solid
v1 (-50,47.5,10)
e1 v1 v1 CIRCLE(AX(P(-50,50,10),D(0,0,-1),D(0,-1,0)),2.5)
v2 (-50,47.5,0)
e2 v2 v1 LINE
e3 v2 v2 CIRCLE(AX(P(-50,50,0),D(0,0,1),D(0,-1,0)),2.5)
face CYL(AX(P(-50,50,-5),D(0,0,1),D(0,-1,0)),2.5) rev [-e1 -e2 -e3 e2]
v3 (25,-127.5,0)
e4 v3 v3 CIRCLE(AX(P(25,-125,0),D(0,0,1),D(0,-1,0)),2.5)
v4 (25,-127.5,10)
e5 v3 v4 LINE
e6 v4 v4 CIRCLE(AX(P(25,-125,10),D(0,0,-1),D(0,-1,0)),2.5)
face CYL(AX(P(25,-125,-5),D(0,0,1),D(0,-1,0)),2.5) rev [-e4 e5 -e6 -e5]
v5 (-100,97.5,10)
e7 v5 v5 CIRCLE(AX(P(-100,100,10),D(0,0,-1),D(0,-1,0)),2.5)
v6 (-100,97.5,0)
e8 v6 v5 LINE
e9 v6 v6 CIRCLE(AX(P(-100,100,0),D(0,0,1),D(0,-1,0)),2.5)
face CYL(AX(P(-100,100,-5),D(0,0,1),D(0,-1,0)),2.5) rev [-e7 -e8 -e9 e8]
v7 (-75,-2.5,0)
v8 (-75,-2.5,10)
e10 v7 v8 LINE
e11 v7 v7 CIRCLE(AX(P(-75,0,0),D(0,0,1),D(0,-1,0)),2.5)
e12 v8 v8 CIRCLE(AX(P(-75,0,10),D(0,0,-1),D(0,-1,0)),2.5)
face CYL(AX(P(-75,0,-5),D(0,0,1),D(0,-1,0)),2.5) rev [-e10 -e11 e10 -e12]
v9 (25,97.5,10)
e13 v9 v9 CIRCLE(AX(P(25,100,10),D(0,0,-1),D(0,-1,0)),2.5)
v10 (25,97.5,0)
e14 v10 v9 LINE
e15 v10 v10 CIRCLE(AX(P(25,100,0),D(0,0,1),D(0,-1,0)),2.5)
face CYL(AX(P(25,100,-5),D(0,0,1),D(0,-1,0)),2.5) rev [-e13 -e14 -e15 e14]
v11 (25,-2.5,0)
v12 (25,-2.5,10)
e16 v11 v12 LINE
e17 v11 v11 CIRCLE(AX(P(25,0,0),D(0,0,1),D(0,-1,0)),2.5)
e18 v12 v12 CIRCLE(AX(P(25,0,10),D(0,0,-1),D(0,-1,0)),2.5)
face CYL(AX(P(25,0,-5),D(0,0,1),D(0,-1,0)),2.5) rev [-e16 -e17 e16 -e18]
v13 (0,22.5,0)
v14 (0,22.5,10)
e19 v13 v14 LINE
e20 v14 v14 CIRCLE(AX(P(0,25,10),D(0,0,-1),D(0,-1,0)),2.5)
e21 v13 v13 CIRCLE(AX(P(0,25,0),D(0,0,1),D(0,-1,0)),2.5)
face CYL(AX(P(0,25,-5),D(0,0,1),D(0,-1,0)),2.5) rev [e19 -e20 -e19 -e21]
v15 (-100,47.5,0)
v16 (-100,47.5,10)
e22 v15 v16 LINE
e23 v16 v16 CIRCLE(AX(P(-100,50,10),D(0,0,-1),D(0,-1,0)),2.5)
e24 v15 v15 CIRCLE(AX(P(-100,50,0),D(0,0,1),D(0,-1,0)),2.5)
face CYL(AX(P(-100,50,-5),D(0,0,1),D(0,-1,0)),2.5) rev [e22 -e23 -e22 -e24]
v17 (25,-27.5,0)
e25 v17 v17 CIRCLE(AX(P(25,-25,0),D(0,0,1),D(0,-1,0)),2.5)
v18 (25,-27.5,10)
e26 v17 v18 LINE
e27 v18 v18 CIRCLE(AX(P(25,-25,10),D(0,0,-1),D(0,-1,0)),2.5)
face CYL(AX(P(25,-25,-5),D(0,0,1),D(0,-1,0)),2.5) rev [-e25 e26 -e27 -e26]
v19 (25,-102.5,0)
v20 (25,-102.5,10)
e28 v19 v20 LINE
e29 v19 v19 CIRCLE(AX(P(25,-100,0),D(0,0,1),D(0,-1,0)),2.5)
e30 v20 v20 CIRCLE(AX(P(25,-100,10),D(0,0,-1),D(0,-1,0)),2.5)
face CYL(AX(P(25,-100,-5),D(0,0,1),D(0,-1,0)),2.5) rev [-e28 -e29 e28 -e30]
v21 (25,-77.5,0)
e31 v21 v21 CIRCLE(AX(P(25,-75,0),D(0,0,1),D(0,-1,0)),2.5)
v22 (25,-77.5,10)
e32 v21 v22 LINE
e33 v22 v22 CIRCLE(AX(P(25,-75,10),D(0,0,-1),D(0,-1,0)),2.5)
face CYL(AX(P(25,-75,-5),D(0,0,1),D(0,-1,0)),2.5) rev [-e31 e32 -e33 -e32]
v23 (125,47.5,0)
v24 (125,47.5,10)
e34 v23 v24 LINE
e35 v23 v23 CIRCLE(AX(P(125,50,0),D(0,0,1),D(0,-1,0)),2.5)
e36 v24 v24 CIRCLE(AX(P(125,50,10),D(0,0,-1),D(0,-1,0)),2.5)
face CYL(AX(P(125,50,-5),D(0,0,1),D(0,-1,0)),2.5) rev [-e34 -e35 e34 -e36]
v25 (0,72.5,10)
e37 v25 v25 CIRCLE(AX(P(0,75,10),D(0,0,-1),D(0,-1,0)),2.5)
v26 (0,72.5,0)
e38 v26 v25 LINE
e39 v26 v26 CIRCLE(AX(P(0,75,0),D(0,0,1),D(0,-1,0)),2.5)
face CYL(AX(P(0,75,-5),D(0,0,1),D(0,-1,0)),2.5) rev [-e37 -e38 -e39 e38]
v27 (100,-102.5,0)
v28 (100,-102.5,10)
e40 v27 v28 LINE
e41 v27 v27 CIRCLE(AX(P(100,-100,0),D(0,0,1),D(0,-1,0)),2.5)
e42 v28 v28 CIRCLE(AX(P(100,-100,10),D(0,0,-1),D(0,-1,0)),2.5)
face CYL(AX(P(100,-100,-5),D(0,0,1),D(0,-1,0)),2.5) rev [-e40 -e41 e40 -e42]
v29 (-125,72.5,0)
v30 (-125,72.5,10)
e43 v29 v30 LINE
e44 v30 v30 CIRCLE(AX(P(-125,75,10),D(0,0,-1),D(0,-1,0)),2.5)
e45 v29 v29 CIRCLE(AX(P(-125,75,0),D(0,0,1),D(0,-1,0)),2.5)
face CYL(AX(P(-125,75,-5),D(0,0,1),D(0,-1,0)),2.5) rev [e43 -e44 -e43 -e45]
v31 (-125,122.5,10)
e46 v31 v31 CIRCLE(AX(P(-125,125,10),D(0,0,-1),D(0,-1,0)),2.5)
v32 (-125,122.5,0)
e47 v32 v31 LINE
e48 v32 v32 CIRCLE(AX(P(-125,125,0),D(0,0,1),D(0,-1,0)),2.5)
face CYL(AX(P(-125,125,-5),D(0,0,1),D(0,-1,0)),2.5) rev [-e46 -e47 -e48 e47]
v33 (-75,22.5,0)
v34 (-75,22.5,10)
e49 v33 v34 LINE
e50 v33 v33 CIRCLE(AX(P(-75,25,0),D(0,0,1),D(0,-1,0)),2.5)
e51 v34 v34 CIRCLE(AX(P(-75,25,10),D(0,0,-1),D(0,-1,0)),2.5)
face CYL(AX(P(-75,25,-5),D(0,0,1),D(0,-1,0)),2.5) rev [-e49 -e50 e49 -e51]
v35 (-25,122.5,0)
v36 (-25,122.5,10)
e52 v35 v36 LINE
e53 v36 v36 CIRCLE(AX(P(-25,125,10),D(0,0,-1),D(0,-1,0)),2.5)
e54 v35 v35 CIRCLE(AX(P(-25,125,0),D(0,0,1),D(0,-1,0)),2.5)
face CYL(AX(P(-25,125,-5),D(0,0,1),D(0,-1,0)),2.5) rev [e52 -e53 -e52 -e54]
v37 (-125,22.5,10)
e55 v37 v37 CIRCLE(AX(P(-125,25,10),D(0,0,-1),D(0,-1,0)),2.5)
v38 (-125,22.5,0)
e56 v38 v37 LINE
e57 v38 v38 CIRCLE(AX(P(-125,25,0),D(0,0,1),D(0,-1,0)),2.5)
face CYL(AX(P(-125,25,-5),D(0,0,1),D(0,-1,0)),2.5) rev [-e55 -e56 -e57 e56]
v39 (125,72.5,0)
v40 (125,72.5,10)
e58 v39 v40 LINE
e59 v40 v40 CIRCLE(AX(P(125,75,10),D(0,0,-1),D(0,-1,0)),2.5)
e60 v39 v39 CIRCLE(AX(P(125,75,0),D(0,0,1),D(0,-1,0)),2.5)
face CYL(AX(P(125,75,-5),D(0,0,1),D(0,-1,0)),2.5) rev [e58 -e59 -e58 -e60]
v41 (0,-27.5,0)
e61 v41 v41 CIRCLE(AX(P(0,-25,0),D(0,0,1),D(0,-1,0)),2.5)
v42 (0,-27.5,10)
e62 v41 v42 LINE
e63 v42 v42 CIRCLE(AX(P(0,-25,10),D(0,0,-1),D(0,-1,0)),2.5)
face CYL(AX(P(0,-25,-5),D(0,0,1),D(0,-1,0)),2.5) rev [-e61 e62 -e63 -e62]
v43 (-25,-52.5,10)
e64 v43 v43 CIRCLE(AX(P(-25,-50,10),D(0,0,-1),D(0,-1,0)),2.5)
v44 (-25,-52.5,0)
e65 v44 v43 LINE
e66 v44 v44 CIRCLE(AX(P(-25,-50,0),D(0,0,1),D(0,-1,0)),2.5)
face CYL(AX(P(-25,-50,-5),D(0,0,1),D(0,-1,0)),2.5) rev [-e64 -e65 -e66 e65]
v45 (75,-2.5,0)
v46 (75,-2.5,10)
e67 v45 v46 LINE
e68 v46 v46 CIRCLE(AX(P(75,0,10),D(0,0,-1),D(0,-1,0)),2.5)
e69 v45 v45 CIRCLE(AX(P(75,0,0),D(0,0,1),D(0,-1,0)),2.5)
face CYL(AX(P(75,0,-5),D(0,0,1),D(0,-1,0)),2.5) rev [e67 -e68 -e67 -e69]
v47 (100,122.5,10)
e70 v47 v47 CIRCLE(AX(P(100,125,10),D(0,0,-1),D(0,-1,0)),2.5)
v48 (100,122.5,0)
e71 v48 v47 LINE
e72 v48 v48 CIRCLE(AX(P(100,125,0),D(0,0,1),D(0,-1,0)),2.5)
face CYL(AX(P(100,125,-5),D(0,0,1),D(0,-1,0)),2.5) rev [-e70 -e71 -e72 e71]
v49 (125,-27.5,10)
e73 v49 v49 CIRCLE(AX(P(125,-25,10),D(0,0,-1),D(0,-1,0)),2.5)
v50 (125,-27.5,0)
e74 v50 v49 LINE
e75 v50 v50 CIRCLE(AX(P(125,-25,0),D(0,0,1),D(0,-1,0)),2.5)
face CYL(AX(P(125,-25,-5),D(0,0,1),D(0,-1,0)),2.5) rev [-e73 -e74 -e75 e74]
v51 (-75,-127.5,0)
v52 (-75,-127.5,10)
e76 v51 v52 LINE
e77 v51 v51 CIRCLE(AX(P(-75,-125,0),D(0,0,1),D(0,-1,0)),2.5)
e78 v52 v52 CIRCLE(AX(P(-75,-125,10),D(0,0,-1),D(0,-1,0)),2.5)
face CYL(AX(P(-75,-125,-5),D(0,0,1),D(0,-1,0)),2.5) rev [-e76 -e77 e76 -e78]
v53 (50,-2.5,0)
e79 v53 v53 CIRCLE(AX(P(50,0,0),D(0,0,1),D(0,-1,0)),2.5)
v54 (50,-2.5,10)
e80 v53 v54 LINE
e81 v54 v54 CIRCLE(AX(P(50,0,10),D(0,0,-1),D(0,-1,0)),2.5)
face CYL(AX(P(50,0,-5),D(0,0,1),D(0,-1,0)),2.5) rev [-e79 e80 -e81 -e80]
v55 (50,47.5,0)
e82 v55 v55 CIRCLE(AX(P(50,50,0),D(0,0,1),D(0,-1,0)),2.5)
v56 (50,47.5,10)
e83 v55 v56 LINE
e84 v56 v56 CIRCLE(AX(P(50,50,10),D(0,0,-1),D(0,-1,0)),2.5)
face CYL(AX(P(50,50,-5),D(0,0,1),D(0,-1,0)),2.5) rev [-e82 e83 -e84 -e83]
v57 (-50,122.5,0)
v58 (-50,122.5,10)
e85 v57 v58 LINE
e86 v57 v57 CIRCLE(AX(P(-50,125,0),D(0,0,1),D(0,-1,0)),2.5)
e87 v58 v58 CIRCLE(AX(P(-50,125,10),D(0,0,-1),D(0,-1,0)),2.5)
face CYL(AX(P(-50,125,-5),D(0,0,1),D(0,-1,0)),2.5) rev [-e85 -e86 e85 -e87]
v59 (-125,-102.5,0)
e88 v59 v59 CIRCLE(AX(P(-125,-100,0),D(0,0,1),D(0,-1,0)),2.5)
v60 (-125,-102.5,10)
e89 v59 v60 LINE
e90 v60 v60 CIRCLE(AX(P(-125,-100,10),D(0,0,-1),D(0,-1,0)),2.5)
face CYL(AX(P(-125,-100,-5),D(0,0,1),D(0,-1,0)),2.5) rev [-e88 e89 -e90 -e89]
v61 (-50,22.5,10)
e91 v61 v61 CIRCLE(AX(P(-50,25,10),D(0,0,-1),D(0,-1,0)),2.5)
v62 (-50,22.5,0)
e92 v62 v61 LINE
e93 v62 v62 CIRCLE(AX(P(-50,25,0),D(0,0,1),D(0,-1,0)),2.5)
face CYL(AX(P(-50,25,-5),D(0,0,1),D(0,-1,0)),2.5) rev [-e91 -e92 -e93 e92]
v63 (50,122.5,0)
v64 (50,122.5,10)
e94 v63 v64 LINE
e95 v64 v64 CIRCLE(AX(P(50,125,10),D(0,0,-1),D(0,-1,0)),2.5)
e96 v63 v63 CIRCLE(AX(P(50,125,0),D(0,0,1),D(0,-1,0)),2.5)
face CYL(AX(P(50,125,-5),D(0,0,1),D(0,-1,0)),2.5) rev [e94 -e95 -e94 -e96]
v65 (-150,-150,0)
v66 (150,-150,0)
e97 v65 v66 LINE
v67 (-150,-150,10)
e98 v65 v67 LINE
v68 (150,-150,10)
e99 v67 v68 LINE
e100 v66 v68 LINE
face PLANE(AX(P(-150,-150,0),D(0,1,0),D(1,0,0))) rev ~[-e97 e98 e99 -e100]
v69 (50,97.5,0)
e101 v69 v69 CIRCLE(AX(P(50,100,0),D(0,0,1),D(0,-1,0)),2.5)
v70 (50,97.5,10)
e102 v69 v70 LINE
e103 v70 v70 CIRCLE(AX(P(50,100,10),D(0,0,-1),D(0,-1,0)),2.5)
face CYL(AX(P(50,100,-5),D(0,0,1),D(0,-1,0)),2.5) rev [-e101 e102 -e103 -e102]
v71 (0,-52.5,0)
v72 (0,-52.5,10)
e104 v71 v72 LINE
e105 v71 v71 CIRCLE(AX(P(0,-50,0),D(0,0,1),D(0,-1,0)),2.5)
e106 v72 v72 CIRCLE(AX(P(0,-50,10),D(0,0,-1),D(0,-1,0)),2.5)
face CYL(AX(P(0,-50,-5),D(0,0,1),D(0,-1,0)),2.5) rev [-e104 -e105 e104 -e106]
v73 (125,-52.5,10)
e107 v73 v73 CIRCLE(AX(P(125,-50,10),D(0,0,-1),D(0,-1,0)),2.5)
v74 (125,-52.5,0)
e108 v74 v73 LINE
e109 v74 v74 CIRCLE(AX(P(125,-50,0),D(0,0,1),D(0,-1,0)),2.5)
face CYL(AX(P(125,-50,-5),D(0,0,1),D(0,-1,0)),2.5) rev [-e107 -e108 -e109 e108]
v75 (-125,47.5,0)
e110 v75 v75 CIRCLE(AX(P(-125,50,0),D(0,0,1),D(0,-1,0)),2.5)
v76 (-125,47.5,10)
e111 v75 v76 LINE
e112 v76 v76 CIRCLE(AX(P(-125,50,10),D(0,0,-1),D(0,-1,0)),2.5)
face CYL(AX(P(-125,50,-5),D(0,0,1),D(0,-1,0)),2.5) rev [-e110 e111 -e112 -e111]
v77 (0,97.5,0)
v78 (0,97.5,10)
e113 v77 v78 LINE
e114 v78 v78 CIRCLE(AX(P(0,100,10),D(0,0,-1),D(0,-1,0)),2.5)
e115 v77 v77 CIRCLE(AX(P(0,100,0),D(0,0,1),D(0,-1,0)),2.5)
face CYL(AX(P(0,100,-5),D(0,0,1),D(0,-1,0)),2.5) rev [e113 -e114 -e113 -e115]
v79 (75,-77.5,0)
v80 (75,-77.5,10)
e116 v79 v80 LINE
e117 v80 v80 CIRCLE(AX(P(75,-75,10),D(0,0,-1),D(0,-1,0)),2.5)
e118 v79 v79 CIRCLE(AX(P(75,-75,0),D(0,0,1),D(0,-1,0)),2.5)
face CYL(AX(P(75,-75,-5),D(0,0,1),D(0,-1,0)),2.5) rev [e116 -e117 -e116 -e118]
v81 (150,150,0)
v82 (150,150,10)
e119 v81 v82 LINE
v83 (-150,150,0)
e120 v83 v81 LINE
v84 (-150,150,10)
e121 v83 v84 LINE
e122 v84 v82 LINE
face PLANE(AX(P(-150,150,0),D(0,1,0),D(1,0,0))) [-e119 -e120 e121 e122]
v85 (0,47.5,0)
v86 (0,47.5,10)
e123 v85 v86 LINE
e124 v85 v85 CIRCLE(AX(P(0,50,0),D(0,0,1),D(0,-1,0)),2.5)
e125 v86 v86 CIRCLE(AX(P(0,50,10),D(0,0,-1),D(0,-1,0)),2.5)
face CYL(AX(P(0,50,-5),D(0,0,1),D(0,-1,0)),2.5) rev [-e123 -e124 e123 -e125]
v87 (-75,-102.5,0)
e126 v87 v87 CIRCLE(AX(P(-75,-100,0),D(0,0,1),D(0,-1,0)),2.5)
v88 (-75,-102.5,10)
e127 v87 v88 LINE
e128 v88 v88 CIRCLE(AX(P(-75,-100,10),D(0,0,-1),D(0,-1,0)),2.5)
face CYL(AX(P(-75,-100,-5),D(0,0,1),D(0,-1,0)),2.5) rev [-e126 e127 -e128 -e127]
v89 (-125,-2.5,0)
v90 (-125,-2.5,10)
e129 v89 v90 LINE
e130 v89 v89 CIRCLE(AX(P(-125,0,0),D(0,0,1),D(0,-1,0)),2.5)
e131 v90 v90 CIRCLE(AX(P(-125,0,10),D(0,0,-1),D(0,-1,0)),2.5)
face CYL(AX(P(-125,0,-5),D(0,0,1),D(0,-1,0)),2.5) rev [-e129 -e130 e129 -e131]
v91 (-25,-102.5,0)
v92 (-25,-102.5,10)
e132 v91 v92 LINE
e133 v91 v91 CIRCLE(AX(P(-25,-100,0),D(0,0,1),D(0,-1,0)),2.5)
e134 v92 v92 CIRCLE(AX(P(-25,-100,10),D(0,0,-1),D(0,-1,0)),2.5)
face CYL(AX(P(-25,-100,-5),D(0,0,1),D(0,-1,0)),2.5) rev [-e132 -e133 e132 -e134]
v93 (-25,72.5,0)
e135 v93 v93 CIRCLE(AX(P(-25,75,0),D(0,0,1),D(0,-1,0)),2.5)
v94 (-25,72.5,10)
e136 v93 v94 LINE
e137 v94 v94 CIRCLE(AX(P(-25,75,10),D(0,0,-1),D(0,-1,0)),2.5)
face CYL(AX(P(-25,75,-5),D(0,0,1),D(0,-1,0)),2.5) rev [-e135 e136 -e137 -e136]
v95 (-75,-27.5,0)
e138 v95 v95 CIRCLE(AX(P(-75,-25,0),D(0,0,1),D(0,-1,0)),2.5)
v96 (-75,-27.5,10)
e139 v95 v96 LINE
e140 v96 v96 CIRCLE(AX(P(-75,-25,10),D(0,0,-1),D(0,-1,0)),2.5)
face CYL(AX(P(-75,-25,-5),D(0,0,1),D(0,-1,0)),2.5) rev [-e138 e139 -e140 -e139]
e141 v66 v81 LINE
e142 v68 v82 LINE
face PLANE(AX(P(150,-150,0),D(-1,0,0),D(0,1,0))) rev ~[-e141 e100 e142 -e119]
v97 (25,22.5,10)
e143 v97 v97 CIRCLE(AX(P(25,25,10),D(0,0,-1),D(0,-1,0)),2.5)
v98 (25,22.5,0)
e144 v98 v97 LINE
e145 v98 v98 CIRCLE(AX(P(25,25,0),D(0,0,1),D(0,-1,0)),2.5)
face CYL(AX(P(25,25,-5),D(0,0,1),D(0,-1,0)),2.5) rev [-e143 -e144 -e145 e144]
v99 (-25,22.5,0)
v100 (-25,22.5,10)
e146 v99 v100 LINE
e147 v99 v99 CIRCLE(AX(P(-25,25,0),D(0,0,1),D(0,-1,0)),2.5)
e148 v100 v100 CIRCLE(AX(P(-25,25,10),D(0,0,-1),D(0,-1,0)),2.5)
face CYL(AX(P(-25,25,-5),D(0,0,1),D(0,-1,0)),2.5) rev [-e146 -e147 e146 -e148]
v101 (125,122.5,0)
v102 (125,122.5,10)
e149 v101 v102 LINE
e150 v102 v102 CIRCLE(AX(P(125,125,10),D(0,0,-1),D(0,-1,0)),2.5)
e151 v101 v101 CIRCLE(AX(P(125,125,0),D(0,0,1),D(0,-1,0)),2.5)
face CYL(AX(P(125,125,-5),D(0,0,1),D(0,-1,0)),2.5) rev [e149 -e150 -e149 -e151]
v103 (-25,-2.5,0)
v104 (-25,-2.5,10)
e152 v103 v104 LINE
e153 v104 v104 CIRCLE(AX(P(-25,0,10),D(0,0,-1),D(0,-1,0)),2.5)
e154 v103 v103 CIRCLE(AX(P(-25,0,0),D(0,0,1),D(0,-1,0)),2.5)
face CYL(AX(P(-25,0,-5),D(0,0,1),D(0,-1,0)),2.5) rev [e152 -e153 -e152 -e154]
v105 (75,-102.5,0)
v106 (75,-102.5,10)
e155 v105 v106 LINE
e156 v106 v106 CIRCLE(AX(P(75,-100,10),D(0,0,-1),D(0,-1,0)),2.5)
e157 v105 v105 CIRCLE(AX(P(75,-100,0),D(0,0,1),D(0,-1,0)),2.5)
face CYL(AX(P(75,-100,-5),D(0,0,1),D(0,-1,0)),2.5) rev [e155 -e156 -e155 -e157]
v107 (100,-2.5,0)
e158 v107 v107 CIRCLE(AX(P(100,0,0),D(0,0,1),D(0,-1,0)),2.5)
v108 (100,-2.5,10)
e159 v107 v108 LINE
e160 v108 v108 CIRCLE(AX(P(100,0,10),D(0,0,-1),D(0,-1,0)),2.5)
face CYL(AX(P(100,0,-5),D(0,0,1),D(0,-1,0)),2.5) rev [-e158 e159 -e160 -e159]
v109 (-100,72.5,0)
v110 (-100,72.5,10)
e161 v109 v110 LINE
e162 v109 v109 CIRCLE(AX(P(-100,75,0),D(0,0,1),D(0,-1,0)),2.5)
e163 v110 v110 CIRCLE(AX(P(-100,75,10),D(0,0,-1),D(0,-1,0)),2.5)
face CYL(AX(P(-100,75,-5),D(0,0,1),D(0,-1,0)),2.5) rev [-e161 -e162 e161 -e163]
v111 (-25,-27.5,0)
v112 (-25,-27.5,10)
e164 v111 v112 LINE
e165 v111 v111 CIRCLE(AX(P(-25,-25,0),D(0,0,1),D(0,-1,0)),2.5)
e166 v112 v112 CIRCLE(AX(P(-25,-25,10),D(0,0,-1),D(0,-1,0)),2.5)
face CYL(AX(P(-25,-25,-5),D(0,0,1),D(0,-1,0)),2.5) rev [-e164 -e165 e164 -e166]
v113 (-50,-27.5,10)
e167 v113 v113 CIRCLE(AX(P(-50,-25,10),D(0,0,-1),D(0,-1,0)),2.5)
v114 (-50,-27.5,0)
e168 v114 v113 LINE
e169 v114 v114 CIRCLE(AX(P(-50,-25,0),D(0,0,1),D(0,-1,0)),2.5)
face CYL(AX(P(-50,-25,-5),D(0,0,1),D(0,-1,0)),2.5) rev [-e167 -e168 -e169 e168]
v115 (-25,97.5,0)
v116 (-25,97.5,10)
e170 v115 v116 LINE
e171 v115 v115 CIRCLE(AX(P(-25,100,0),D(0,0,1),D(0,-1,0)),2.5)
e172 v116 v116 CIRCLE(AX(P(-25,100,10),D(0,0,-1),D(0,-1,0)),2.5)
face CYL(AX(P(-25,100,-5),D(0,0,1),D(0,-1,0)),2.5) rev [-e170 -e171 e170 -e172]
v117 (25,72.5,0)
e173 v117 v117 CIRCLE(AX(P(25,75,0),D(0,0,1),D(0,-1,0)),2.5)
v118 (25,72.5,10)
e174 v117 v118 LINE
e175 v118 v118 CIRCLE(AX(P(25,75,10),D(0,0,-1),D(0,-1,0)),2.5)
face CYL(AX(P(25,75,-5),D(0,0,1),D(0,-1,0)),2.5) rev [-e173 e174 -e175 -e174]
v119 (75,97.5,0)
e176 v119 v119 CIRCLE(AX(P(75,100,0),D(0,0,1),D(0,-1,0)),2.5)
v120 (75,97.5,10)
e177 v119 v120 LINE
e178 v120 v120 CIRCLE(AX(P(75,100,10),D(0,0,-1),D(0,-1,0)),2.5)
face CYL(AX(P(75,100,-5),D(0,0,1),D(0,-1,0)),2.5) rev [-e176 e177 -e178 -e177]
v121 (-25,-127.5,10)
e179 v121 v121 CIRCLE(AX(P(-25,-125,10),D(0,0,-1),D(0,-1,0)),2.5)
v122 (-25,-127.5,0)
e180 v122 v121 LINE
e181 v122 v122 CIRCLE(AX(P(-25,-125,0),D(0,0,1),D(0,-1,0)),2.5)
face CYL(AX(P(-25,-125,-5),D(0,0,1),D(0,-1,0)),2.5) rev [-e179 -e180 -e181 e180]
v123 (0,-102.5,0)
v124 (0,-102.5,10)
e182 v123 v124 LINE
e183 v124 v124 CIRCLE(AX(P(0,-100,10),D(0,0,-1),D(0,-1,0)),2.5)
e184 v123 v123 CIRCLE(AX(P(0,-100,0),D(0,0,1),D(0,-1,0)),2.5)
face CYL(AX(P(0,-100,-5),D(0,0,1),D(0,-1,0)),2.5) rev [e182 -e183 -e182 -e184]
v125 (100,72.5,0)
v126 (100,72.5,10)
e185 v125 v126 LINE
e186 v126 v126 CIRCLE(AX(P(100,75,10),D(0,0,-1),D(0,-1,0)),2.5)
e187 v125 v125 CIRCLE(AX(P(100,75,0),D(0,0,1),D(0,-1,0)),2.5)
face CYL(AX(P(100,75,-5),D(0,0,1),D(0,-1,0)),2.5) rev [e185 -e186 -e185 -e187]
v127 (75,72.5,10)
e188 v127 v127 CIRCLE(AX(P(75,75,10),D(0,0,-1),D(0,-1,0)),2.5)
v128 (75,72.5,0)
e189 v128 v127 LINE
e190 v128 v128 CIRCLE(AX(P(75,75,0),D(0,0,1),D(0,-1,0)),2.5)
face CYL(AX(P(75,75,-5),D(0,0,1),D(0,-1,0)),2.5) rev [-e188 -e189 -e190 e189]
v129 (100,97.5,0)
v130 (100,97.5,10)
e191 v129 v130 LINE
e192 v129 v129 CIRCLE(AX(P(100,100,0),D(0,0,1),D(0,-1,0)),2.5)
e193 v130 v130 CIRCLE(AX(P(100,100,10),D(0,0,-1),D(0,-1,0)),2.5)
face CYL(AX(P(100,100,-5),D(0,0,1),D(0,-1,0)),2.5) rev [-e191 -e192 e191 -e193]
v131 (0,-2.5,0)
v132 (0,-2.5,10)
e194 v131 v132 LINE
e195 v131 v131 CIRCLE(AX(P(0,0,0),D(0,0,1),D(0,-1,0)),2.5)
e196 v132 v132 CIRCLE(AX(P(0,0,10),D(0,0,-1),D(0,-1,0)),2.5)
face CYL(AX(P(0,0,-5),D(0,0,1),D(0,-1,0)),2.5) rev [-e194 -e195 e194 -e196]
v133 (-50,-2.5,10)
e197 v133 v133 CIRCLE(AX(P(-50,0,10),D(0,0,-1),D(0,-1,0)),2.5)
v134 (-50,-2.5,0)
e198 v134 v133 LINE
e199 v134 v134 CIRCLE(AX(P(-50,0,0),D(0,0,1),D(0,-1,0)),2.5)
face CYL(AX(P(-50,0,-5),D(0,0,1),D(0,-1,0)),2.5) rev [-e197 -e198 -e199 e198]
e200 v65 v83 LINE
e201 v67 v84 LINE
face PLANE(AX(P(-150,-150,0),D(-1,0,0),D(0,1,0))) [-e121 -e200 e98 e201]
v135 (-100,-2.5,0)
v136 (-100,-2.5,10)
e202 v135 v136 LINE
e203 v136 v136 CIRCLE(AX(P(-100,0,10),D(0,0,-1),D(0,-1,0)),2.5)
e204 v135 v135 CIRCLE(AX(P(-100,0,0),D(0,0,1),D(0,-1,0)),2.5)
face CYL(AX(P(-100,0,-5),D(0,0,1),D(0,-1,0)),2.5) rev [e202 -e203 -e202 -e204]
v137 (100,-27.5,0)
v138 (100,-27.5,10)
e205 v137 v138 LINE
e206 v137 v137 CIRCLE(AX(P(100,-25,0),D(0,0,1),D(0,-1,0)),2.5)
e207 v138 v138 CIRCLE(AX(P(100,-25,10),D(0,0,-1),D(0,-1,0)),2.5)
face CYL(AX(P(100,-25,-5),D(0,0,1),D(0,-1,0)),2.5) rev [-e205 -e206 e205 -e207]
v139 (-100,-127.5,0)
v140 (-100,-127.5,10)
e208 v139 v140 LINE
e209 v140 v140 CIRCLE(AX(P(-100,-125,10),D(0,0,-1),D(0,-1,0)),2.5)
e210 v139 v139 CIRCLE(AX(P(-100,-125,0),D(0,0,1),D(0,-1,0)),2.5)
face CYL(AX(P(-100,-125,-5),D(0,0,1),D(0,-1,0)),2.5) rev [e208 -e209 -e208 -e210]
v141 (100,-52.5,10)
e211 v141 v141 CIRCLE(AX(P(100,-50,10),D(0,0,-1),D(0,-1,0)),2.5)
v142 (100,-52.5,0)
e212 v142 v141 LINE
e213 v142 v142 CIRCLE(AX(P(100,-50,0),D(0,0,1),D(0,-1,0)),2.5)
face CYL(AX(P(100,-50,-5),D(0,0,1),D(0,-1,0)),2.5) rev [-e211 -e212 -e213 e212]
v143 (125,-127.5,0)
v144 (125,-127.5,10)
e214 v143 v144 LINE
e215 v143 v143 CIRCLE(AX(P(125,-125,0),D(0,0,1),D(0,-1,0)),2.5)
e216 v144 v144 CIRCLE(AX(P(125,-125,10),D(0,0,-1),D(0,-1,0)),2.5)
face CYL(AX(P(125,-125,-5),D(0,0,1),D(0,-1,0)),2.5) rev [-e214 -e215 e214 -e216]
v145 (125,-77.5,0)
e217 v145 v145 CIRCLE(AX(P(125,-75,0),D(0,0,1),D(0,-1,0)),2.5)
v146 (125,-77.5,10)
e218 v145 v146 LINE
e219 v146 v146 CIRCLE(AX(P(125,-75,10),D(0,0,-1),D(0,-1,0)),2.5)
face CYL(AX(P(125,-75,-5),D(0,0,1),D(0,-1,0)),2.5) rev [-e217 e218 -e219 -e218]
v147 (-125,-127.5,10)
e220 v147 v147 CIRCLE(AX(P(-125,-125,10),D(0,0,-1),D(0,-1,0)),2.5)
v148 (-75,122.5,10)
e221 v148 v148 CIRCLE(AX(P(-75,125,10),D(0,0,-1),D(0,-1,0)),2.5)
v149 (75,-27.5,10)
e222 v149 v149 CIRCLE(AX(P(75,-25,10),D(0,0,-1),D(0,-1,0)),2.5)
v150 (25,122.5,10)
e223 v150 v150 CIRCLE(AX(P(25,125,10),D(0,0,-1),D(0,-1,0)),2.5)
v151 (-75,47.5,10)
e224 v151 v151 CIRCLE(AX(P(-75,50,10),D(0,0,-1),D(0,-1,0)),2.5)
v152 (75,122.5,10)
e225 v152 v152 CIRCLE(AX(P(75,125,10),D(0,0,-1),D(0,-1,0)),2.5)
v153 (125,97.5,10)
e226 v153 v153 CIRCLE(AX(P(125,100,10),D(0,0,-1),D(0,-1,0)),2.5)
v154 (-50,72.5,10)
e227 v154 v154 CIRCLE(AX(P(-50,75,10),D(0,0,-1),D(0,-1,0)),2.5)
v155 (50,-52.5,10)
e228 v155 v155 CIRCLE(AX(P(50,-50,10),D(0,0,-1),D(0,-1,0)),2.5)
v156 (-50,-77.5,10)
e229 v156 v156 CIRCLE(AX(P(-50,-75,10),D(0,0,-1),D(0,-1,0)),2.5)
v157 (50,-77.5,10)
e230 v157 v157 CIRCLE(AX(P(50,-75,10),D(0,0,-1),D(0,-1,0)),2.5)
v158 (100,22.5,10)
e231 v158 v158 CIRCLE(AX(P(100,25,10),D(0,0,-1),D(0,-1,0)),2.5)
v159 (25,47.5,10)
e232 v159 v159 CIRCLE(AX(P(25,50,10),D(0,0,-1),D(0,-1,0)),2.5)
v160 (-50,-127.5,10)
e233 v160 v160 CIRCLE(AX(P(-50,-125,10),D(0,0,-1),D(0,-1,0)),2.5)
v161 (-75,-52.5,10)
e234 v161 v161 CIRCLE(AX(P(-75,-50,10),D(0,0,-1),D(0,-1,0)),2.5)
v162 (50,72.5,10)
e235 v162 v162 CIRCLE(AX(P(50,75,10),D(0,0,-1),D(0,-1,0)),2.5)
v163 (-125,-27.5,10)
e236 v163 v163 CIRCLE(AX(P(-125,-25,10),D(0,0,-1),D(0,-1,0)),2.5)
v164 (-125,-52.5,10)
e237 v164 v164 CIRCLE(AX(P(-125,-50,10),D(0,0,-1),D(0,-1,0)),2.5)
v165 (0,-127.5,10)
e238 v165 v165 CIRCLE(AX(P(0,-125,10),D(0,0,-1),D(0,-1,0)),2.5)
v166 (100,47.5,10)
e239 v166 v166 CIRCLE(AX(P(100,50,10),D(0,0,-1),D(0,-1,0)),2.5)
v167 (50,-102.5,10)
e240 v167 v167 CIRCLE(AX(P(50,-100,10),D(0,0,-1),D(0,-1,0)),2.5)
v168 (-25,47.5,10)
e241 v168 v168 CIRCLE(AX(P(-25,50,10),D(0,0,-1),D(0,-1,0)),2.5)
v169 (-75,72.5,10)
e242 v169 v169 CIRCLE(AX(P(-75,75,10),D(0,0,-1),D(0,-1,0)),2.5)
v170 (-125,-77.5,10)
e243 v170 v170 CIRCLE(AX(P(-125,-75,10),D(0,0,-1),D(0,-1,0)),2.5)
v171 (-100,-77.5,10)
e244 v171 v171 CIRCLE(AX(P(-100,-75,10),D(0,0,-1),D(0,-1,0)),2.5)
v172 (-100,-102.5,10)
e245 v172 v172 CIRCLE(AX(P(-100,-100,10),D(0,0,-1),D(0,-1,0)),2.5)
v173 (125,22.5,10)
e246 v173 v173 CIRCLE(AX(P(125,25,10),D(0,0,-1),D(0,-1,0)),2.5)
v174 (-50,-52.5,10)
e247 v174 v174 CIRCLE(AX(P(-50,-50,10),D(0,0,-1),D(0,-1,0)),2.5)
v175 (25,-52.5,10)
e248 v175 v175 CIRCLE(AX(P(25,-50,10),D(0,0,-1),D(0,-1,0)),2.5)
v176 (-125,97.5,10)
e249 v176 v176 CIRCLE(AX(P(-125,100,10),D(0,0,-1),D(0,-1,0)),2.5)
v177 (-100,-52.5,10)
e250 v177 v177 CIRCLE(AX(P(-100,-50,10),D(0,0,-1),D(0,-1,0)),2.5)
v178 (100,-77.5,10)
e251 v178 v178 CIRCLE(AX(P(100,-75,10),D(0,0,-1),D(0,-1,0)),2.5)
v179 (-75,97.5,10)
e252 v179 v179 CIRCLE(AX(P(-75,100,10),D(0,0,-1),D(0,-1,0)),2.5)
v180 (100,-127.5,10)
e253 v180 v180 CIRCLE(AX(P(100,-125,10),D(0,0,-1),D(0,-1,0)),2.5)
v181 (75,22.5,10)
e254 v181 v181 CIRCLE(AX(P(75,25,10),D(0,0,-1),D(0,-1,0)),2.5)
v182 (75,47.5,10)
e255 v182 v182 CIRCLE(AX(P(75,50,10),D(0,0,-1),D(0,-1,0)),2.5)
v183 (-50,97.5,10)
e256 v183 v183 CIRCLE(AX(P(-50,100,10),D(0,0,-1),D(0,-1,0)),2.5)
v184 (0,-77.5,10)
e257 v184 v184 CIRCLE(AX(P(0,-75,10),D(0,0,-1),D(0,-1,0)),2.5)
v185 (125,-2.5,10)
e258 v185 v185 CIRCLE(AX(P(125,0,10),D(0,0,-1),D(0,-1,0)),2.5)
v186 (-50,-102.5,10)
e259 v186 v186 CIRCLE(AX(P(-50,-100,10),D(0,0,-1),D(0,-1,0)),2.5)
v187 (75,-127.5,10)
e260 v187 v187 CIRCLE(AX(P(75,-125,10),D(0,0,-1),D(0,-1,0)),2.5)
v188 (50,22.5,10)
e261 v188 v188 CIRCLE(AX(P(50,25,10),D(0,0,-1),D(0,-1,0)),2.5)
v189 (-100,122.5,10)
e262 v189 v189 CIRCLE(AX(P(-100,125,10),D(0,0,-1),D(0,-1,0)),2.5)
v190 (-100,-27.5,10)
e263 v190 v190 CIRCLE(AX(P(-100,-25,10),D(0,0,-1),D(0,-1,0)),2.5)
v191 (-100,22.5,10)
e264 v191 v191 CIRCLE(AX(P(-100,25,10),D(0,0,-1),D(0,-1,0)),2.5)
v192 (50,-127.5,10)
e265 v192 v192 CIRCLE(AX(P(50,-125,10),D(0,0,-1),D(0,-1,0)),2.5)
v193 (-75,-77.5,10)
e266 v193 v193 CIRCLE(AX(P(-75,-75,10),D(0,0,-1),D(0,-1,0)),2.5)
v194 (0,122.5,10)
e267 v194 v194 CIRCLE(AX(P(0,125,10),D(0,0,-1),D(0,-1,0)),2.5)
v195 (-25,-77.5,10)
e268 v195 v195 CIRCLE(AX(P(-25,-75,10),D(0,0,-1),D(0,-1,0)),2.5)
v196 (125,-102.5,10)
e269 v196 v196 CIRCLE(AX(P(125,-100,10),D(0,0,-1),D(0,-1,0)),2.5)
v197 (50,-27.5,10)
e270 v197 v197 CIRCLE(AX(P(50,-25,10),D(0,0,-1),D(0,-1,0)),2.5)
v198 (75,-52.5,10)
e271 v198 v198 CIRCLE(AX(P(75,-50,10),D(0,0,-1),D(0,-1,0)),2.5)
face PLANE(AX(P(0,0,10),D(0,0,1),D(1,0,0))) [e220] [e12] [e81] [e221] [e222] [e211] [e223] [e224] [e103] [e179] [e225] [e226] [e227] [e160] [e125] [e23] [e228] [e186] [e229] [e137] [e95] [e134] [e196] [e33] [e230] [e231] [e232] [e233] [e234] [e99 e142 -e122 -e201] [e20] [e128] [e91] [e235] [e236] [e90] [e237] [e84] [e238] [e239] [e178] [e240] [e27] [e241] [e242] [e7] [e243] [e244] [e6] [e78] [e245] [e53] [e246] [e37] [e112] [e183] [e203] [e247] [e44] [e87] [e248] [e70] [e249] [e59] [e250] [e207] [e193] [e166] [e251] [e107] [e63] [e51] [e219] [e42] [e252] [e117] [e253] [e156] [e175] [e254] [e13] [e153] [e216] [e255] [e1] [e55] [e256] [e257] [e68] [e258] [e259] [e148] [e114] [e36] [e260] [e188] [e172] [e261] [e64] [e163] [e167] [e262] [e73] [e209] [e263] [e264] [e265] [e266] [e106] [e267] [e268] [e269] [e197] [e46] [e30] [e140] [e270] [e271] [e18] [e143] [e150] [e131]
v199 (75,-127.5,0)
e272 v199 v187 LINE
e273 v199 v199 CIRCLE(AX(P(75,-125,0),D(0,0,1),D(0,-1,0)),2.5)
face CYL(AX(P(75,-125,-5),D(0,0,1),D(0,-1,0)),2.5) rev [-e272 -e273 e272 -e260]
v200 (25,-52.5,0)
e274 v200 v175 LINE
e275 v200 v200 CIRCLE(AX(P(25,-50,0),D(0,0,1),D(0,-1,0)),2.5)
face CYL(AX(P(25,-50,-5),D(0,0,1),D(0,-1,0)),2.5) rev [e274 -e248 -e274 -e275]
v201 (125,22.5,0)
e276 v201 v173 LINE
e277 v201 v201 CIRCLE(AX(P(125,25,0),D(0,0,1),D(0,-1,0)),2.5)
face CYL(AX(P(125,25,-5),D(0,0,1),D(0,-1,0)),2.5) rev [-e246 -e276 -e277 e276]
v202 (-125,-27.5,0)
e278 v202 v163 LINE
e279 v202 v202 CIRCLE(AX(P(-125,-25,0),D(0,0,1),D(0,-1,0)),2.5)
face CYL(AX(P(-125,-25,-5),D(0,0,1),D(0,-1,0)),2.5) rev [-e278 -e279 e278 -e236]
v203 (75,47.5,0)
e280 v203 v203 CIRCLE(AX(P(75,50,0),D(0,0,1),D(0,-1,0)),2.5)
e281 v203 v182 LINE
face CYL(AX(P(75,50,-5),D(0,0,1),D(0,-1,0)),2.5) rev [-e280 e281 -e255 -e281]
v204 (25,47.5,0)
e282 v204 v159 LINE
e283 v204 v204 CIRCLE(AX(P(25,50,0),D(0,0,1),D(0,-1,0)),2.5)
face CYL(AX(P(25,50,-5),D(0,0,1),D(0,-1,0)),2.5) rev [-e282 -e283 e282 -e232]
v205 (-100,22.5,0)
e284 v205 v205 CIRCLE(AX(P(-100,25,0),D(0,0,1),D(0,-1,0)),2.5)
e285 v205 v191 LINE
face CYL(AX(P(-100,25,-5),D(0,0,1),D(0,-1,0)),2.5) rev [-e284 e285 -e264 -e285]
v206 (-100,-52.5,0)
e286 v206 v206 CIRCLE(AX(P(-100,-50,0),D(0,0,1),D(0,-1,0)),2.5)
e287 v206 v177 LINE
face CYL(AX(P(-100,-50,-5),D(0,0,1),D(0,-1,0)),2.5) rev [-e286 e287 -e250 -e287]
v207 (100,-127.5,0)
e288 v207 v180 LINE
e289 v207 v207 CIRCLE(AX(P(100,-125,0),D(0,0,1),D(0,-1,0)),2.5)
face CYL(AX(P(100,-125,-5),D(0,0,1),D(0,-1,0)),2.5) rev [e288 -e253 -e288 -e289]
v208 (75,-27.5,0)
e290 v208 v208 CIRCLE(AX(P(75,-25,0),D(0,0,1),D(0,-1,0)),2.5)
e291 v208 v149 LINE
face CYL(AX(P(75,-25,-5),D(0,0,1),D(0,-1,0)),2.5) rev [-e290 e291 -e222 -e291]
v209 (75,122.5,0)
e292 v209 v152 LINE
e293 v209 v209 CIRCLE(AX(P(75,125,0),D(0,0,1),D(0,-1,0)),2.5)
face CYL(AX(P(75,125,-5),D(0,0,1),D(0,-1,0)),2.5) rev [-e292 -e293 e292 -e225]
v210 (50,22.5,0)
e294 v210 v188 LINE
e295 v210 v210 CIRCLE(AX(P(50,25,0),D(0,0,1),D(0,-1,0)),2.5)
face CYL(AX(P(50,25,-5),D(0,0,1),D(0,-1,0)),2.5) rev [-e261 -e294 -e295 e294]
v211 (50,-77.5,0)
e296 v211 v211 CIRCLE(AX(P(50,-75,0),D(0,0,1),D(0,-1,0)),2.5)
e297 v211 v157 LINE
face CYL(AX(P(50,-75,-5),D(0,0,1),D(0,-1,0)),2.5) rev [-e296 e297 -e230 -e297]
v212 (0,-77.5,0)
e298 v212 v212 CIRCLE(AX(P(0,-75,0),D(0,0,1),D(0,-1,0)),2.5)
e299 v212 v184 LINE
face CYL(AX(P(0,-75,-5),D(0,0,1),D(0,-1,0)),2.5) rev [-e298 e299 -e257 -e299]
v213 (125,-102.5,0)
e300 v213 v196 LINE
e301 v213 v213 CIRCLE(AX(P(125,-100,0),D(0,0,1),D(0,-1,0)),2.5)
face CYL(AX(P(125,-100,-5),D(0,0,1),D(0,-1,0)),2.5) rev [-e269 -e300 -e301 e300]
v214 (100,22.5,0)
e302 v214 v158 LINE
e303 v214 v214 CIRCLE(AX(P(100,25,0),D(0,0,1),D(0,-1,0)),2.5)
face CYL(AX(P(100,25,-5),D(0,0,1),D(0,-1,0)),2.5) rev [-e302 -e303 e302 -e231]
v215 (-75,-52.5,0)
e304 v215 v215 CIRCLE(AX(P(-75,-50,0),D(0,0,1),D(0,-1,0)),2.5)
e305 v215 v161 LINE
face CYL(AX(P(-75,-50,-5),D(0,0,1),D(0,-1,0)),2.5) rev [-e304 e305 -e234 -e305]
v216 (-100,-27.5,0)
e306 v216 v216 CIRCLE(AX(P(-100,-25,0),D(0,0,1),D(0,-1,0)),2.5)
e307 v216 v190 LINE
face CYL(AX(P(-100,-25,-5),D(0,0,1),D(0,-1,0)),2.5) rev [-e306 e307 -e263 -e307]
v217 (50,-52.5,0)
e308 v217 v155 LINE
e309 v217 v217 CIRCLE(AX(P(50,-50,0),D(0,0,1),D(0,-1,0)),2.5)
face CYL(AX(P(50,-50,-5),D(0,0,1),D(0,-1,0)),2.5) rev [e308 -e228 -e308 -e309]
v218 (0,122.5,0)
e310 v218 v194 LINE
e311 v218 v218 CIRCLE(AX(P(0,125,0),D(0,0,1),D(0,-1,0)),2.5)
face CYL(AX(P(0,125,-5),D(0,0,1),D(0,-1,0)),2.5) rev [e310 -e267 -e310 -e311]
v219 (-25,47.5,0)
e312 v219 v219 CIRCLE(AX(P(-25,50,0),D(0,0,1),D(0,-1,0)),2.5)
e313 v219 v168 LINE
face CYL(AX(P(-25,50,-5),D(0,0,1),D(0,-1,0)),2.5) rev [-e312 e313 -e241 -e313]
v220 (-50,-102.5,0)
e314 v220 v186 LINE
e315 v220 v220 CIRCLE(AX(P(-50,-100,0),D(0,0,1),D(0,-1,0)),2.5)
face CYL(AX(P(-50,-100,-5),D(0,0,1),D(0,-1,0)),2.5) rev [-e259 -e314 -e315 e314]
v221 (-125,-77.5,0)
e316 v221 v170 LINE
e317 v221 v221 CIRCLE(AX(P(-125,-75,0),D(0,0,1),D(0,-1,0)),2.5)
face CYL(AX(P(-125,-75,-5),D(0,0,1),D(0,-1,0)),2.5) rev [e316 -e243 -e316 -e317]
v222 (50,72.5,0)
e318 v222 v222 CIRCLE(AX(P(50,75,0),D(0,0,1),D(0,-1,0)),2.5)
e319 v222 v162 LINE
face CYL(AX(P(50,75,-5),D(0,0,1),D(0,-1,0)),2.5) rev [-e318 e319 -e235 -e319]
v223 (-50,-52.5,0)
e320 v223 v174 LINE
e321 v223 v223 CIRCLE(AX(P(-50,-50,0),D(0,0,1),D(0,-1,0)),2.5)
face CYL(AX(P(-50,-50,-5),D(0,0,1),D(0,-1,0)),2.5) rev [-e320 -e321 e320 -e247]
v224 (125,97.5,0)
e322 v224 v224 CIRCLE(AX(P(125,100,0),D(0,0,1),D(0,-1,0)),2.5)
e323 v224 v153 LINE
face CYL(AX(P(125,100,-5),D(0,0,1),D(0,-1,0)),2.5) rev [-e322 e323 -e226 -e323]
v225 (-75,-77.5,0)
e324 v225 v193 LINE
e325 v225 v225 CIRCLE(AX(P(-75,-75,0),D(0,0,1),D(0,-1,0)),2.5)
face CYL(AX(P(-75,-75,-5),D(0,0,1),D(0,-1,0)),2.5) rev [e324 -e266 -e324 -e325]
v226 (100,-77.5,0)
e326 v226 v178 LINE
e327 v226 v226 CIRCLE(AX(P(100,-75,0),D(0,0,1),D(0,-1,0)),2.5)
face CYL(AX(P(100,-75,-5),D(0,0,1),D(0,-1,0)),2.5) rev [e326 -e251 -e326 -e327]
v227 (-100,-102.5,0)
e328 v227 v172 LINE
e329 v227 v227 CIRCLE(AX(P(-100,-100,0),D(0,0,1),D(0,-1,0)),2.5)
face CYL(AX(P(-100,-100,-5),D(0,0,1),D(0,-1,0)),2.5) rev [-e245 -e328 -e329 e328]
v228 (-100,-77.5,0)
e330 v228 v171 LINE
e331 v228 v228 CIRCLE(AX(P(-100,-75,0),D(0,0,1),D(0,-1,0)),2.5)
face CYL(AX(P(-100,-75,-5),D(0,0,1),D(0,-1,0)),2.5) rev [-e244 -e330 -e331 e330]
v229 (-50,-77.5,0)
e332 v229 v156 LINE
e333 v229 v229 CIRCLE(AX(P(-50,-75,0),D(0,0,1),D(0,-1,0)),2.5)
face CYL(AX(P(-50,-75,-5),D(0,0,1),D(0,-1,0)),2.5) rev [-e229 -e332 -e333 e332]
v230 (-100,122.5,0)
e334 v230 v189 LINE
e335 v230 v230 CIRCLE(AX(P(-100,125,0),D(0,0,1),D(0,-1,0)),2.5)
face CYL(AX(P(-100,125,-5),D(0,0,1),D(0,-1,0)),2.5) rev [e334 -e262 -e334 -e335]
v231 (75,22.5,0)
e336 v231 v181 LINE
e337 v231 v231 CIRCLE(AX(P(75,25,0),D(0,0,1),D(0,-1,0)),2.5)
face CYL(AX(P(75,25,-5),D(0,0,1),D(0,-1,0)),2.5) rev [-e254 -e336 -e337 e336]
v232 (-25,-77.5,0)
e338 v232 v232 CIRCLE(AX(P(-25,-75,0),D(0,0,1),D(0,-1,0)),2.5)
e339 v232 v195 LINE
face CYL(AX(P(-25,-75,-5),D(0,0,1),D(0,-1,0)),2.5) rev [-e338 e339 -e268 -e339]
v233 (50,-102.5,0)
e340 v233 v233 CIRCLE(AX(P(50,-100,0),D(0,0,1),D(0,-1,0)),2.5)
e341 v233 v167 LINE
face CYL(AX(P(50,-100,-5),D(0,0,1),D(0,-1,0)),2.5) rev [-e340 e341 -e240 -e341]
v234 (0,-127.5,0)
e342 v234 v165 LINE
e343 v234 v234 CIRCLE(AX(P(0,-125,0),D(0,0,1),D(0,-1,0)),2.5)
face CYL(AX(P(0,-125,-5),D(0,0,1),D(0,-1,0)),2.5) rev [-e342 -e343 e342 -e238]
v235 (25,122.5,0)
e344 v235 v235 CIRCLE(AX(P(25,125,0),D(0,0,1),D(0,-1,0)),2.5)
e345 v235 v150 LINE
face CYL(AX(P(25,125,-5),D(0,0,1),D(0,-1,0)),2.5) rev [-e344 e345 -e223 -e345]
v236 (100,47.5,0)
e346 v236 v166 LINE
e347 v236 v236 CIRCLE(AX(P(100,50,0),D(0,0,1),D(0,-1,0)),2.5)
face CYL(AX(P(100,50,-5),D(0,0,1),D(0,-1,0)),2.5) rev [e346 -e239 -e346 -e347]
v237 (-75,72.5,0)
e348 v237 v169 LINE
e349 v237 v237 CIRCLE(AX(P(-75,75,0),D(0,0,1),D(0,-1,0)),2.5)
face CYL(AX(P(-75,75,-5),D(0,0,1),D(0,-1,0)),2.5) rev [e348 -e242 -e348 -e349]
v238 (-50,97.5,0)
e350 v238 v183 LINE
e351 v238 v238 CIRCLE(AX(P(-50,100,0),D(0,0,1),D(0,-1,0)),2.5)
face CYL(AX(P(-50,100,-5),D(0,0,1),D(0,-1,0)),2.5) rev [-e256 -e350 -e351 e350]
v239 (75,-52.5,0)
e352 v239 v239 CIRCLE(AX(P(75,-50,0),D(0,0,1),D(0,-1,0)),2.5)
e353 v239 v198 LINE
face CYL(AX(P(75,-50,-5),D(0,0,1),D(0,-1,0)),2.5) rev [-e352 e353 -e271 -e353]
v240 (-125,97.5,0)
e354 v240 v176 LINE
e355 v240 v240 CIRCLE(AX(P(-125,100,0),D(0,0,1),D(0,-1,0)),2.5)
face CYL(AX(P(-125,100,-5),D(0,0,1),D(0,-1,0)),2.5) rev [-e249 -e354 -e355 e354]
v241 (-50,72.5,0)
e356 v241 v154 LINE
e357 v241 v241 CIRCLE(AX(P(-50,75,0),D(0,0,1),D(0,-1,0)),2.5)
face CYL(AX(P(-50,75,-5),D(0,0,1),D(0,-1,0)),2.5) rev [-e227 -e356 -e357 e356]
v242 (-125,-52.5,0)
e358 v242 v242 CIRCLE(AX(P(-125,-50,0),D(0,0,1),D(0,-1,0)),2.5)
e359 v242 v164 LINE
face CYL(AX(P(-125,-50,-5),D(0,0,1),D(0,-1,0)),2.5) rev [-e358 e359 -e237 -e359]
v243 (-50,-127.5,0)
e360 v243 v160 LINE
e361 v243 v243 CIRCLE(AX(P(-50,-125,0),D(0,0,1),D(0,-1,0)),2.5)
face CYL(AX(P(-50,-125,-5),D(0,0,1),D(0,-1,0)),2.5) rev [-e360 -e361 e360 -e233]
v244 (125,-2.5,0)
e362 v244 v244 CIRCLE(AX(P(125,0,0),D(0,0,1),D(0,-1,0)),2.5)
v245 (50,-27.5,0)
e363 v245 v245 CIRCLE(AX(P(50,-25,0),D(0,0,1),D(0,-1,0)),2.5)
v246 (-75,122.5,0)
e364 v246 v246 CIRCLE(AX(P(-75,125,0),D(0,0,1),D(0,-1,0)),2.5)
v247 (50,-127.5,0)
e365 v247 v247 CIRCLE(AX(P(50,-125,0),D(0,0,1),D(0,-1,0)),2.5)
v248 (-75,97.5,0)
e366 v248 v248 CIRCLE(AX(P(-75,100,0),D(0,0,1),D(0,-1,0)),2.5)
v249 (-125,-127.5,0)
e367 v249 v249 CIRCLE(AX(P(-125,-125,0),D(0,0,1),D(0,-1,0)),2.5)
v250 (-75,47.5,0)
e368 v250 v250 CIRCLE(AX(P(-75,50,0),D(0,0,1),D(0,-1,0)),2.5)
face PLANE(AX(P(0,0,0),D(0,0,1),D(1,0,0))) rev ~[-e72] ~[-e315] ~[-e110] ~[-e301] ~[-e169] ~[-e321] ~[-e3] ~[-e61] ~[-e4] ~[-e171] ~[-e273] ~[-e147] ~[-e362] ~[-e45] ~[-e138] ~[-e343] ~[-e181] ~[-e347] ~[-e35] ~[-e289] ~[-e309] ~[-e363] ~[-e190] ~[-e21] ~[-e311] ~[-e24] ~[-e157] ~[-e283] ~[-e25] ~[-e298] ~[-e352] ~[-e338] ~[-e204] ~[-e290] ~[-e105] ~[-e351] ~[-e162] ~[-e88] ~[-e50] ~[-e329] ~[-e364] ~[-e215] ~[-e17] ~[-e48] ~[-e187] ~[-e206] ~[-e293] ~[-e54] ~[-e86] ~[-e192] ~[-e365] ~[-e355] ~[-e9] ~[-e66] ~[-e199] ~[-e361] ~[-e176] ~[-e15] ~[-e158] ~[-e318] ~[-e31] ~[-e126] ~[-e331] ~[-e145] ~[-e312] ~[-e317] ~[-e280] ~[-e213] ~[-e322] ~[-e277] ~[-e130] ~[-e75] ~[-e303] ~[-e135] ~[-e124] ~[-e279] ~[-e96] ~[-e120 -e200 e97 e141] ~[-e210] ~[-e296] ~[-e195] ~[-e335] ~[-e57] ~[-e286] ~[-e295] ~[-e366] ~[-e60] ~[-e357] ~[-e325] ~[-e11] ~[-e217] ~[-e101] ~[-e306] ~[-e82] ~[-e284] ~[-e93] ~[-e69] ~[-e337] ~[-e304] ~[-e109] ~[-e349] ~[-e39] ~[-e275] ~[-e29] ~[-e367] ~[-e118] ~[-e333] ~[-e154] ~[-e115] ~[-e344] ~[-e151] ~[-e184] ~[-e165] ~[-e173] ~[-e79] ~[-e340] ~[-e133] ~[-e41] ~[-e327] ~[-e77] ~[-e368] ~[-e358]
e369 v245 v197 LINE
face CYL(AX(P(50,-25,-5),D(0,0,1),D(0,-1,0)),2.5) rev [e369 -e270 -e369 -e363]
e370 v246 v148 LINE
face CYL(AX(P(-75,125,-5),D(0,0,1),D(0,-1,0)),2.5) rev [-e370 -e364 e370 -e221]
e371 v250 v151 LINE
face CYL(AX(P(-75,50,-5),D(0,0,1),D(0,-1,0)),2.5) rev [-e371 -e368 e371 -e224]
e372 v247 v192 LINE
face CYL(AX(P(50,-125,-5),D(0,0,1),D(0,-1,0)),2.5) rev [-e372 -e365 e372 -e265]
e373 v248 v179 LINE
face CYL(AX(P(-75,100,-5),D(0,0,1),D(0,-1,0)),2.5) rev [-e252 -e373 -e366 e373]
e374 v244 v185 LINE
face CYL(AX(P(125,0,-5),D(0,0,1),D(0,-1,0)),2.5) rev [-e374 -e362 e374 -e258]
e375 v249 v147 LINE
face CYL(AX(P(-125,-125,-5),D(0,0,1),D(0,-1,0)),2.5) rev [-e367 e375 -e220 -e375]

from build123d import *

# Parameters (mm, degrees)
SKETCH_1_W                  = 300
SKETCH_1_H                  = 300
EXTRUDE_1_DEPTH             = 10
PATTERN_LINEAR_1_COUNT      = 11
PATTERN_LINEAR_1_PITCH      = 25
PATTERN_LINEAR_1_COUNT_DIR2 = 11
PATTERN_LINEAR_1_PITCH_DIR2 = 25


with BuildPart() as part:
    # 草图1 → 凸台-拉伸1 (new body)
    with BuildSketch(Plane.XY):
        Rectangle(SKETCH_1_W, SKETCH_1_H)
    extrude(amount=EXTRUDE_1_DEPTH)

    # 草图3 → M6 螺纹孔1 (revolve, cut)
    with BuildSketch(Plane(origin=(-125, -125, 10), x_dir=(0, -1, 0), z_dir=(1, 0, 0))):
        Polygon((0, 0), (0, 16.502151548), (2.5, 15), (2.5, 0), align=None)
    hole_wizard_m6_1 = revolve(axis=Axis((-125, -125, 16.35), (0, 0, -1)), mode=Mode.SUBTRACT)

    # 阵列(线性)1: Hole Wizard M6 _1 11 × 11
    with Locations(*[(j * PATTERN_LINEAR_1_PITCH_DIR2, i * PATTERN_LINEAR_1_PITCH, 0) for i in range(PATTERN_LINEAR_1_COUNT) for j in range(PATTERN_LINEAR_1_COUNT_DIR2) if (i, j) != (0, 0)]):
        add(hole_wizard_m6_1, mode=Mode.SUBTRACT)


solid = part.part
